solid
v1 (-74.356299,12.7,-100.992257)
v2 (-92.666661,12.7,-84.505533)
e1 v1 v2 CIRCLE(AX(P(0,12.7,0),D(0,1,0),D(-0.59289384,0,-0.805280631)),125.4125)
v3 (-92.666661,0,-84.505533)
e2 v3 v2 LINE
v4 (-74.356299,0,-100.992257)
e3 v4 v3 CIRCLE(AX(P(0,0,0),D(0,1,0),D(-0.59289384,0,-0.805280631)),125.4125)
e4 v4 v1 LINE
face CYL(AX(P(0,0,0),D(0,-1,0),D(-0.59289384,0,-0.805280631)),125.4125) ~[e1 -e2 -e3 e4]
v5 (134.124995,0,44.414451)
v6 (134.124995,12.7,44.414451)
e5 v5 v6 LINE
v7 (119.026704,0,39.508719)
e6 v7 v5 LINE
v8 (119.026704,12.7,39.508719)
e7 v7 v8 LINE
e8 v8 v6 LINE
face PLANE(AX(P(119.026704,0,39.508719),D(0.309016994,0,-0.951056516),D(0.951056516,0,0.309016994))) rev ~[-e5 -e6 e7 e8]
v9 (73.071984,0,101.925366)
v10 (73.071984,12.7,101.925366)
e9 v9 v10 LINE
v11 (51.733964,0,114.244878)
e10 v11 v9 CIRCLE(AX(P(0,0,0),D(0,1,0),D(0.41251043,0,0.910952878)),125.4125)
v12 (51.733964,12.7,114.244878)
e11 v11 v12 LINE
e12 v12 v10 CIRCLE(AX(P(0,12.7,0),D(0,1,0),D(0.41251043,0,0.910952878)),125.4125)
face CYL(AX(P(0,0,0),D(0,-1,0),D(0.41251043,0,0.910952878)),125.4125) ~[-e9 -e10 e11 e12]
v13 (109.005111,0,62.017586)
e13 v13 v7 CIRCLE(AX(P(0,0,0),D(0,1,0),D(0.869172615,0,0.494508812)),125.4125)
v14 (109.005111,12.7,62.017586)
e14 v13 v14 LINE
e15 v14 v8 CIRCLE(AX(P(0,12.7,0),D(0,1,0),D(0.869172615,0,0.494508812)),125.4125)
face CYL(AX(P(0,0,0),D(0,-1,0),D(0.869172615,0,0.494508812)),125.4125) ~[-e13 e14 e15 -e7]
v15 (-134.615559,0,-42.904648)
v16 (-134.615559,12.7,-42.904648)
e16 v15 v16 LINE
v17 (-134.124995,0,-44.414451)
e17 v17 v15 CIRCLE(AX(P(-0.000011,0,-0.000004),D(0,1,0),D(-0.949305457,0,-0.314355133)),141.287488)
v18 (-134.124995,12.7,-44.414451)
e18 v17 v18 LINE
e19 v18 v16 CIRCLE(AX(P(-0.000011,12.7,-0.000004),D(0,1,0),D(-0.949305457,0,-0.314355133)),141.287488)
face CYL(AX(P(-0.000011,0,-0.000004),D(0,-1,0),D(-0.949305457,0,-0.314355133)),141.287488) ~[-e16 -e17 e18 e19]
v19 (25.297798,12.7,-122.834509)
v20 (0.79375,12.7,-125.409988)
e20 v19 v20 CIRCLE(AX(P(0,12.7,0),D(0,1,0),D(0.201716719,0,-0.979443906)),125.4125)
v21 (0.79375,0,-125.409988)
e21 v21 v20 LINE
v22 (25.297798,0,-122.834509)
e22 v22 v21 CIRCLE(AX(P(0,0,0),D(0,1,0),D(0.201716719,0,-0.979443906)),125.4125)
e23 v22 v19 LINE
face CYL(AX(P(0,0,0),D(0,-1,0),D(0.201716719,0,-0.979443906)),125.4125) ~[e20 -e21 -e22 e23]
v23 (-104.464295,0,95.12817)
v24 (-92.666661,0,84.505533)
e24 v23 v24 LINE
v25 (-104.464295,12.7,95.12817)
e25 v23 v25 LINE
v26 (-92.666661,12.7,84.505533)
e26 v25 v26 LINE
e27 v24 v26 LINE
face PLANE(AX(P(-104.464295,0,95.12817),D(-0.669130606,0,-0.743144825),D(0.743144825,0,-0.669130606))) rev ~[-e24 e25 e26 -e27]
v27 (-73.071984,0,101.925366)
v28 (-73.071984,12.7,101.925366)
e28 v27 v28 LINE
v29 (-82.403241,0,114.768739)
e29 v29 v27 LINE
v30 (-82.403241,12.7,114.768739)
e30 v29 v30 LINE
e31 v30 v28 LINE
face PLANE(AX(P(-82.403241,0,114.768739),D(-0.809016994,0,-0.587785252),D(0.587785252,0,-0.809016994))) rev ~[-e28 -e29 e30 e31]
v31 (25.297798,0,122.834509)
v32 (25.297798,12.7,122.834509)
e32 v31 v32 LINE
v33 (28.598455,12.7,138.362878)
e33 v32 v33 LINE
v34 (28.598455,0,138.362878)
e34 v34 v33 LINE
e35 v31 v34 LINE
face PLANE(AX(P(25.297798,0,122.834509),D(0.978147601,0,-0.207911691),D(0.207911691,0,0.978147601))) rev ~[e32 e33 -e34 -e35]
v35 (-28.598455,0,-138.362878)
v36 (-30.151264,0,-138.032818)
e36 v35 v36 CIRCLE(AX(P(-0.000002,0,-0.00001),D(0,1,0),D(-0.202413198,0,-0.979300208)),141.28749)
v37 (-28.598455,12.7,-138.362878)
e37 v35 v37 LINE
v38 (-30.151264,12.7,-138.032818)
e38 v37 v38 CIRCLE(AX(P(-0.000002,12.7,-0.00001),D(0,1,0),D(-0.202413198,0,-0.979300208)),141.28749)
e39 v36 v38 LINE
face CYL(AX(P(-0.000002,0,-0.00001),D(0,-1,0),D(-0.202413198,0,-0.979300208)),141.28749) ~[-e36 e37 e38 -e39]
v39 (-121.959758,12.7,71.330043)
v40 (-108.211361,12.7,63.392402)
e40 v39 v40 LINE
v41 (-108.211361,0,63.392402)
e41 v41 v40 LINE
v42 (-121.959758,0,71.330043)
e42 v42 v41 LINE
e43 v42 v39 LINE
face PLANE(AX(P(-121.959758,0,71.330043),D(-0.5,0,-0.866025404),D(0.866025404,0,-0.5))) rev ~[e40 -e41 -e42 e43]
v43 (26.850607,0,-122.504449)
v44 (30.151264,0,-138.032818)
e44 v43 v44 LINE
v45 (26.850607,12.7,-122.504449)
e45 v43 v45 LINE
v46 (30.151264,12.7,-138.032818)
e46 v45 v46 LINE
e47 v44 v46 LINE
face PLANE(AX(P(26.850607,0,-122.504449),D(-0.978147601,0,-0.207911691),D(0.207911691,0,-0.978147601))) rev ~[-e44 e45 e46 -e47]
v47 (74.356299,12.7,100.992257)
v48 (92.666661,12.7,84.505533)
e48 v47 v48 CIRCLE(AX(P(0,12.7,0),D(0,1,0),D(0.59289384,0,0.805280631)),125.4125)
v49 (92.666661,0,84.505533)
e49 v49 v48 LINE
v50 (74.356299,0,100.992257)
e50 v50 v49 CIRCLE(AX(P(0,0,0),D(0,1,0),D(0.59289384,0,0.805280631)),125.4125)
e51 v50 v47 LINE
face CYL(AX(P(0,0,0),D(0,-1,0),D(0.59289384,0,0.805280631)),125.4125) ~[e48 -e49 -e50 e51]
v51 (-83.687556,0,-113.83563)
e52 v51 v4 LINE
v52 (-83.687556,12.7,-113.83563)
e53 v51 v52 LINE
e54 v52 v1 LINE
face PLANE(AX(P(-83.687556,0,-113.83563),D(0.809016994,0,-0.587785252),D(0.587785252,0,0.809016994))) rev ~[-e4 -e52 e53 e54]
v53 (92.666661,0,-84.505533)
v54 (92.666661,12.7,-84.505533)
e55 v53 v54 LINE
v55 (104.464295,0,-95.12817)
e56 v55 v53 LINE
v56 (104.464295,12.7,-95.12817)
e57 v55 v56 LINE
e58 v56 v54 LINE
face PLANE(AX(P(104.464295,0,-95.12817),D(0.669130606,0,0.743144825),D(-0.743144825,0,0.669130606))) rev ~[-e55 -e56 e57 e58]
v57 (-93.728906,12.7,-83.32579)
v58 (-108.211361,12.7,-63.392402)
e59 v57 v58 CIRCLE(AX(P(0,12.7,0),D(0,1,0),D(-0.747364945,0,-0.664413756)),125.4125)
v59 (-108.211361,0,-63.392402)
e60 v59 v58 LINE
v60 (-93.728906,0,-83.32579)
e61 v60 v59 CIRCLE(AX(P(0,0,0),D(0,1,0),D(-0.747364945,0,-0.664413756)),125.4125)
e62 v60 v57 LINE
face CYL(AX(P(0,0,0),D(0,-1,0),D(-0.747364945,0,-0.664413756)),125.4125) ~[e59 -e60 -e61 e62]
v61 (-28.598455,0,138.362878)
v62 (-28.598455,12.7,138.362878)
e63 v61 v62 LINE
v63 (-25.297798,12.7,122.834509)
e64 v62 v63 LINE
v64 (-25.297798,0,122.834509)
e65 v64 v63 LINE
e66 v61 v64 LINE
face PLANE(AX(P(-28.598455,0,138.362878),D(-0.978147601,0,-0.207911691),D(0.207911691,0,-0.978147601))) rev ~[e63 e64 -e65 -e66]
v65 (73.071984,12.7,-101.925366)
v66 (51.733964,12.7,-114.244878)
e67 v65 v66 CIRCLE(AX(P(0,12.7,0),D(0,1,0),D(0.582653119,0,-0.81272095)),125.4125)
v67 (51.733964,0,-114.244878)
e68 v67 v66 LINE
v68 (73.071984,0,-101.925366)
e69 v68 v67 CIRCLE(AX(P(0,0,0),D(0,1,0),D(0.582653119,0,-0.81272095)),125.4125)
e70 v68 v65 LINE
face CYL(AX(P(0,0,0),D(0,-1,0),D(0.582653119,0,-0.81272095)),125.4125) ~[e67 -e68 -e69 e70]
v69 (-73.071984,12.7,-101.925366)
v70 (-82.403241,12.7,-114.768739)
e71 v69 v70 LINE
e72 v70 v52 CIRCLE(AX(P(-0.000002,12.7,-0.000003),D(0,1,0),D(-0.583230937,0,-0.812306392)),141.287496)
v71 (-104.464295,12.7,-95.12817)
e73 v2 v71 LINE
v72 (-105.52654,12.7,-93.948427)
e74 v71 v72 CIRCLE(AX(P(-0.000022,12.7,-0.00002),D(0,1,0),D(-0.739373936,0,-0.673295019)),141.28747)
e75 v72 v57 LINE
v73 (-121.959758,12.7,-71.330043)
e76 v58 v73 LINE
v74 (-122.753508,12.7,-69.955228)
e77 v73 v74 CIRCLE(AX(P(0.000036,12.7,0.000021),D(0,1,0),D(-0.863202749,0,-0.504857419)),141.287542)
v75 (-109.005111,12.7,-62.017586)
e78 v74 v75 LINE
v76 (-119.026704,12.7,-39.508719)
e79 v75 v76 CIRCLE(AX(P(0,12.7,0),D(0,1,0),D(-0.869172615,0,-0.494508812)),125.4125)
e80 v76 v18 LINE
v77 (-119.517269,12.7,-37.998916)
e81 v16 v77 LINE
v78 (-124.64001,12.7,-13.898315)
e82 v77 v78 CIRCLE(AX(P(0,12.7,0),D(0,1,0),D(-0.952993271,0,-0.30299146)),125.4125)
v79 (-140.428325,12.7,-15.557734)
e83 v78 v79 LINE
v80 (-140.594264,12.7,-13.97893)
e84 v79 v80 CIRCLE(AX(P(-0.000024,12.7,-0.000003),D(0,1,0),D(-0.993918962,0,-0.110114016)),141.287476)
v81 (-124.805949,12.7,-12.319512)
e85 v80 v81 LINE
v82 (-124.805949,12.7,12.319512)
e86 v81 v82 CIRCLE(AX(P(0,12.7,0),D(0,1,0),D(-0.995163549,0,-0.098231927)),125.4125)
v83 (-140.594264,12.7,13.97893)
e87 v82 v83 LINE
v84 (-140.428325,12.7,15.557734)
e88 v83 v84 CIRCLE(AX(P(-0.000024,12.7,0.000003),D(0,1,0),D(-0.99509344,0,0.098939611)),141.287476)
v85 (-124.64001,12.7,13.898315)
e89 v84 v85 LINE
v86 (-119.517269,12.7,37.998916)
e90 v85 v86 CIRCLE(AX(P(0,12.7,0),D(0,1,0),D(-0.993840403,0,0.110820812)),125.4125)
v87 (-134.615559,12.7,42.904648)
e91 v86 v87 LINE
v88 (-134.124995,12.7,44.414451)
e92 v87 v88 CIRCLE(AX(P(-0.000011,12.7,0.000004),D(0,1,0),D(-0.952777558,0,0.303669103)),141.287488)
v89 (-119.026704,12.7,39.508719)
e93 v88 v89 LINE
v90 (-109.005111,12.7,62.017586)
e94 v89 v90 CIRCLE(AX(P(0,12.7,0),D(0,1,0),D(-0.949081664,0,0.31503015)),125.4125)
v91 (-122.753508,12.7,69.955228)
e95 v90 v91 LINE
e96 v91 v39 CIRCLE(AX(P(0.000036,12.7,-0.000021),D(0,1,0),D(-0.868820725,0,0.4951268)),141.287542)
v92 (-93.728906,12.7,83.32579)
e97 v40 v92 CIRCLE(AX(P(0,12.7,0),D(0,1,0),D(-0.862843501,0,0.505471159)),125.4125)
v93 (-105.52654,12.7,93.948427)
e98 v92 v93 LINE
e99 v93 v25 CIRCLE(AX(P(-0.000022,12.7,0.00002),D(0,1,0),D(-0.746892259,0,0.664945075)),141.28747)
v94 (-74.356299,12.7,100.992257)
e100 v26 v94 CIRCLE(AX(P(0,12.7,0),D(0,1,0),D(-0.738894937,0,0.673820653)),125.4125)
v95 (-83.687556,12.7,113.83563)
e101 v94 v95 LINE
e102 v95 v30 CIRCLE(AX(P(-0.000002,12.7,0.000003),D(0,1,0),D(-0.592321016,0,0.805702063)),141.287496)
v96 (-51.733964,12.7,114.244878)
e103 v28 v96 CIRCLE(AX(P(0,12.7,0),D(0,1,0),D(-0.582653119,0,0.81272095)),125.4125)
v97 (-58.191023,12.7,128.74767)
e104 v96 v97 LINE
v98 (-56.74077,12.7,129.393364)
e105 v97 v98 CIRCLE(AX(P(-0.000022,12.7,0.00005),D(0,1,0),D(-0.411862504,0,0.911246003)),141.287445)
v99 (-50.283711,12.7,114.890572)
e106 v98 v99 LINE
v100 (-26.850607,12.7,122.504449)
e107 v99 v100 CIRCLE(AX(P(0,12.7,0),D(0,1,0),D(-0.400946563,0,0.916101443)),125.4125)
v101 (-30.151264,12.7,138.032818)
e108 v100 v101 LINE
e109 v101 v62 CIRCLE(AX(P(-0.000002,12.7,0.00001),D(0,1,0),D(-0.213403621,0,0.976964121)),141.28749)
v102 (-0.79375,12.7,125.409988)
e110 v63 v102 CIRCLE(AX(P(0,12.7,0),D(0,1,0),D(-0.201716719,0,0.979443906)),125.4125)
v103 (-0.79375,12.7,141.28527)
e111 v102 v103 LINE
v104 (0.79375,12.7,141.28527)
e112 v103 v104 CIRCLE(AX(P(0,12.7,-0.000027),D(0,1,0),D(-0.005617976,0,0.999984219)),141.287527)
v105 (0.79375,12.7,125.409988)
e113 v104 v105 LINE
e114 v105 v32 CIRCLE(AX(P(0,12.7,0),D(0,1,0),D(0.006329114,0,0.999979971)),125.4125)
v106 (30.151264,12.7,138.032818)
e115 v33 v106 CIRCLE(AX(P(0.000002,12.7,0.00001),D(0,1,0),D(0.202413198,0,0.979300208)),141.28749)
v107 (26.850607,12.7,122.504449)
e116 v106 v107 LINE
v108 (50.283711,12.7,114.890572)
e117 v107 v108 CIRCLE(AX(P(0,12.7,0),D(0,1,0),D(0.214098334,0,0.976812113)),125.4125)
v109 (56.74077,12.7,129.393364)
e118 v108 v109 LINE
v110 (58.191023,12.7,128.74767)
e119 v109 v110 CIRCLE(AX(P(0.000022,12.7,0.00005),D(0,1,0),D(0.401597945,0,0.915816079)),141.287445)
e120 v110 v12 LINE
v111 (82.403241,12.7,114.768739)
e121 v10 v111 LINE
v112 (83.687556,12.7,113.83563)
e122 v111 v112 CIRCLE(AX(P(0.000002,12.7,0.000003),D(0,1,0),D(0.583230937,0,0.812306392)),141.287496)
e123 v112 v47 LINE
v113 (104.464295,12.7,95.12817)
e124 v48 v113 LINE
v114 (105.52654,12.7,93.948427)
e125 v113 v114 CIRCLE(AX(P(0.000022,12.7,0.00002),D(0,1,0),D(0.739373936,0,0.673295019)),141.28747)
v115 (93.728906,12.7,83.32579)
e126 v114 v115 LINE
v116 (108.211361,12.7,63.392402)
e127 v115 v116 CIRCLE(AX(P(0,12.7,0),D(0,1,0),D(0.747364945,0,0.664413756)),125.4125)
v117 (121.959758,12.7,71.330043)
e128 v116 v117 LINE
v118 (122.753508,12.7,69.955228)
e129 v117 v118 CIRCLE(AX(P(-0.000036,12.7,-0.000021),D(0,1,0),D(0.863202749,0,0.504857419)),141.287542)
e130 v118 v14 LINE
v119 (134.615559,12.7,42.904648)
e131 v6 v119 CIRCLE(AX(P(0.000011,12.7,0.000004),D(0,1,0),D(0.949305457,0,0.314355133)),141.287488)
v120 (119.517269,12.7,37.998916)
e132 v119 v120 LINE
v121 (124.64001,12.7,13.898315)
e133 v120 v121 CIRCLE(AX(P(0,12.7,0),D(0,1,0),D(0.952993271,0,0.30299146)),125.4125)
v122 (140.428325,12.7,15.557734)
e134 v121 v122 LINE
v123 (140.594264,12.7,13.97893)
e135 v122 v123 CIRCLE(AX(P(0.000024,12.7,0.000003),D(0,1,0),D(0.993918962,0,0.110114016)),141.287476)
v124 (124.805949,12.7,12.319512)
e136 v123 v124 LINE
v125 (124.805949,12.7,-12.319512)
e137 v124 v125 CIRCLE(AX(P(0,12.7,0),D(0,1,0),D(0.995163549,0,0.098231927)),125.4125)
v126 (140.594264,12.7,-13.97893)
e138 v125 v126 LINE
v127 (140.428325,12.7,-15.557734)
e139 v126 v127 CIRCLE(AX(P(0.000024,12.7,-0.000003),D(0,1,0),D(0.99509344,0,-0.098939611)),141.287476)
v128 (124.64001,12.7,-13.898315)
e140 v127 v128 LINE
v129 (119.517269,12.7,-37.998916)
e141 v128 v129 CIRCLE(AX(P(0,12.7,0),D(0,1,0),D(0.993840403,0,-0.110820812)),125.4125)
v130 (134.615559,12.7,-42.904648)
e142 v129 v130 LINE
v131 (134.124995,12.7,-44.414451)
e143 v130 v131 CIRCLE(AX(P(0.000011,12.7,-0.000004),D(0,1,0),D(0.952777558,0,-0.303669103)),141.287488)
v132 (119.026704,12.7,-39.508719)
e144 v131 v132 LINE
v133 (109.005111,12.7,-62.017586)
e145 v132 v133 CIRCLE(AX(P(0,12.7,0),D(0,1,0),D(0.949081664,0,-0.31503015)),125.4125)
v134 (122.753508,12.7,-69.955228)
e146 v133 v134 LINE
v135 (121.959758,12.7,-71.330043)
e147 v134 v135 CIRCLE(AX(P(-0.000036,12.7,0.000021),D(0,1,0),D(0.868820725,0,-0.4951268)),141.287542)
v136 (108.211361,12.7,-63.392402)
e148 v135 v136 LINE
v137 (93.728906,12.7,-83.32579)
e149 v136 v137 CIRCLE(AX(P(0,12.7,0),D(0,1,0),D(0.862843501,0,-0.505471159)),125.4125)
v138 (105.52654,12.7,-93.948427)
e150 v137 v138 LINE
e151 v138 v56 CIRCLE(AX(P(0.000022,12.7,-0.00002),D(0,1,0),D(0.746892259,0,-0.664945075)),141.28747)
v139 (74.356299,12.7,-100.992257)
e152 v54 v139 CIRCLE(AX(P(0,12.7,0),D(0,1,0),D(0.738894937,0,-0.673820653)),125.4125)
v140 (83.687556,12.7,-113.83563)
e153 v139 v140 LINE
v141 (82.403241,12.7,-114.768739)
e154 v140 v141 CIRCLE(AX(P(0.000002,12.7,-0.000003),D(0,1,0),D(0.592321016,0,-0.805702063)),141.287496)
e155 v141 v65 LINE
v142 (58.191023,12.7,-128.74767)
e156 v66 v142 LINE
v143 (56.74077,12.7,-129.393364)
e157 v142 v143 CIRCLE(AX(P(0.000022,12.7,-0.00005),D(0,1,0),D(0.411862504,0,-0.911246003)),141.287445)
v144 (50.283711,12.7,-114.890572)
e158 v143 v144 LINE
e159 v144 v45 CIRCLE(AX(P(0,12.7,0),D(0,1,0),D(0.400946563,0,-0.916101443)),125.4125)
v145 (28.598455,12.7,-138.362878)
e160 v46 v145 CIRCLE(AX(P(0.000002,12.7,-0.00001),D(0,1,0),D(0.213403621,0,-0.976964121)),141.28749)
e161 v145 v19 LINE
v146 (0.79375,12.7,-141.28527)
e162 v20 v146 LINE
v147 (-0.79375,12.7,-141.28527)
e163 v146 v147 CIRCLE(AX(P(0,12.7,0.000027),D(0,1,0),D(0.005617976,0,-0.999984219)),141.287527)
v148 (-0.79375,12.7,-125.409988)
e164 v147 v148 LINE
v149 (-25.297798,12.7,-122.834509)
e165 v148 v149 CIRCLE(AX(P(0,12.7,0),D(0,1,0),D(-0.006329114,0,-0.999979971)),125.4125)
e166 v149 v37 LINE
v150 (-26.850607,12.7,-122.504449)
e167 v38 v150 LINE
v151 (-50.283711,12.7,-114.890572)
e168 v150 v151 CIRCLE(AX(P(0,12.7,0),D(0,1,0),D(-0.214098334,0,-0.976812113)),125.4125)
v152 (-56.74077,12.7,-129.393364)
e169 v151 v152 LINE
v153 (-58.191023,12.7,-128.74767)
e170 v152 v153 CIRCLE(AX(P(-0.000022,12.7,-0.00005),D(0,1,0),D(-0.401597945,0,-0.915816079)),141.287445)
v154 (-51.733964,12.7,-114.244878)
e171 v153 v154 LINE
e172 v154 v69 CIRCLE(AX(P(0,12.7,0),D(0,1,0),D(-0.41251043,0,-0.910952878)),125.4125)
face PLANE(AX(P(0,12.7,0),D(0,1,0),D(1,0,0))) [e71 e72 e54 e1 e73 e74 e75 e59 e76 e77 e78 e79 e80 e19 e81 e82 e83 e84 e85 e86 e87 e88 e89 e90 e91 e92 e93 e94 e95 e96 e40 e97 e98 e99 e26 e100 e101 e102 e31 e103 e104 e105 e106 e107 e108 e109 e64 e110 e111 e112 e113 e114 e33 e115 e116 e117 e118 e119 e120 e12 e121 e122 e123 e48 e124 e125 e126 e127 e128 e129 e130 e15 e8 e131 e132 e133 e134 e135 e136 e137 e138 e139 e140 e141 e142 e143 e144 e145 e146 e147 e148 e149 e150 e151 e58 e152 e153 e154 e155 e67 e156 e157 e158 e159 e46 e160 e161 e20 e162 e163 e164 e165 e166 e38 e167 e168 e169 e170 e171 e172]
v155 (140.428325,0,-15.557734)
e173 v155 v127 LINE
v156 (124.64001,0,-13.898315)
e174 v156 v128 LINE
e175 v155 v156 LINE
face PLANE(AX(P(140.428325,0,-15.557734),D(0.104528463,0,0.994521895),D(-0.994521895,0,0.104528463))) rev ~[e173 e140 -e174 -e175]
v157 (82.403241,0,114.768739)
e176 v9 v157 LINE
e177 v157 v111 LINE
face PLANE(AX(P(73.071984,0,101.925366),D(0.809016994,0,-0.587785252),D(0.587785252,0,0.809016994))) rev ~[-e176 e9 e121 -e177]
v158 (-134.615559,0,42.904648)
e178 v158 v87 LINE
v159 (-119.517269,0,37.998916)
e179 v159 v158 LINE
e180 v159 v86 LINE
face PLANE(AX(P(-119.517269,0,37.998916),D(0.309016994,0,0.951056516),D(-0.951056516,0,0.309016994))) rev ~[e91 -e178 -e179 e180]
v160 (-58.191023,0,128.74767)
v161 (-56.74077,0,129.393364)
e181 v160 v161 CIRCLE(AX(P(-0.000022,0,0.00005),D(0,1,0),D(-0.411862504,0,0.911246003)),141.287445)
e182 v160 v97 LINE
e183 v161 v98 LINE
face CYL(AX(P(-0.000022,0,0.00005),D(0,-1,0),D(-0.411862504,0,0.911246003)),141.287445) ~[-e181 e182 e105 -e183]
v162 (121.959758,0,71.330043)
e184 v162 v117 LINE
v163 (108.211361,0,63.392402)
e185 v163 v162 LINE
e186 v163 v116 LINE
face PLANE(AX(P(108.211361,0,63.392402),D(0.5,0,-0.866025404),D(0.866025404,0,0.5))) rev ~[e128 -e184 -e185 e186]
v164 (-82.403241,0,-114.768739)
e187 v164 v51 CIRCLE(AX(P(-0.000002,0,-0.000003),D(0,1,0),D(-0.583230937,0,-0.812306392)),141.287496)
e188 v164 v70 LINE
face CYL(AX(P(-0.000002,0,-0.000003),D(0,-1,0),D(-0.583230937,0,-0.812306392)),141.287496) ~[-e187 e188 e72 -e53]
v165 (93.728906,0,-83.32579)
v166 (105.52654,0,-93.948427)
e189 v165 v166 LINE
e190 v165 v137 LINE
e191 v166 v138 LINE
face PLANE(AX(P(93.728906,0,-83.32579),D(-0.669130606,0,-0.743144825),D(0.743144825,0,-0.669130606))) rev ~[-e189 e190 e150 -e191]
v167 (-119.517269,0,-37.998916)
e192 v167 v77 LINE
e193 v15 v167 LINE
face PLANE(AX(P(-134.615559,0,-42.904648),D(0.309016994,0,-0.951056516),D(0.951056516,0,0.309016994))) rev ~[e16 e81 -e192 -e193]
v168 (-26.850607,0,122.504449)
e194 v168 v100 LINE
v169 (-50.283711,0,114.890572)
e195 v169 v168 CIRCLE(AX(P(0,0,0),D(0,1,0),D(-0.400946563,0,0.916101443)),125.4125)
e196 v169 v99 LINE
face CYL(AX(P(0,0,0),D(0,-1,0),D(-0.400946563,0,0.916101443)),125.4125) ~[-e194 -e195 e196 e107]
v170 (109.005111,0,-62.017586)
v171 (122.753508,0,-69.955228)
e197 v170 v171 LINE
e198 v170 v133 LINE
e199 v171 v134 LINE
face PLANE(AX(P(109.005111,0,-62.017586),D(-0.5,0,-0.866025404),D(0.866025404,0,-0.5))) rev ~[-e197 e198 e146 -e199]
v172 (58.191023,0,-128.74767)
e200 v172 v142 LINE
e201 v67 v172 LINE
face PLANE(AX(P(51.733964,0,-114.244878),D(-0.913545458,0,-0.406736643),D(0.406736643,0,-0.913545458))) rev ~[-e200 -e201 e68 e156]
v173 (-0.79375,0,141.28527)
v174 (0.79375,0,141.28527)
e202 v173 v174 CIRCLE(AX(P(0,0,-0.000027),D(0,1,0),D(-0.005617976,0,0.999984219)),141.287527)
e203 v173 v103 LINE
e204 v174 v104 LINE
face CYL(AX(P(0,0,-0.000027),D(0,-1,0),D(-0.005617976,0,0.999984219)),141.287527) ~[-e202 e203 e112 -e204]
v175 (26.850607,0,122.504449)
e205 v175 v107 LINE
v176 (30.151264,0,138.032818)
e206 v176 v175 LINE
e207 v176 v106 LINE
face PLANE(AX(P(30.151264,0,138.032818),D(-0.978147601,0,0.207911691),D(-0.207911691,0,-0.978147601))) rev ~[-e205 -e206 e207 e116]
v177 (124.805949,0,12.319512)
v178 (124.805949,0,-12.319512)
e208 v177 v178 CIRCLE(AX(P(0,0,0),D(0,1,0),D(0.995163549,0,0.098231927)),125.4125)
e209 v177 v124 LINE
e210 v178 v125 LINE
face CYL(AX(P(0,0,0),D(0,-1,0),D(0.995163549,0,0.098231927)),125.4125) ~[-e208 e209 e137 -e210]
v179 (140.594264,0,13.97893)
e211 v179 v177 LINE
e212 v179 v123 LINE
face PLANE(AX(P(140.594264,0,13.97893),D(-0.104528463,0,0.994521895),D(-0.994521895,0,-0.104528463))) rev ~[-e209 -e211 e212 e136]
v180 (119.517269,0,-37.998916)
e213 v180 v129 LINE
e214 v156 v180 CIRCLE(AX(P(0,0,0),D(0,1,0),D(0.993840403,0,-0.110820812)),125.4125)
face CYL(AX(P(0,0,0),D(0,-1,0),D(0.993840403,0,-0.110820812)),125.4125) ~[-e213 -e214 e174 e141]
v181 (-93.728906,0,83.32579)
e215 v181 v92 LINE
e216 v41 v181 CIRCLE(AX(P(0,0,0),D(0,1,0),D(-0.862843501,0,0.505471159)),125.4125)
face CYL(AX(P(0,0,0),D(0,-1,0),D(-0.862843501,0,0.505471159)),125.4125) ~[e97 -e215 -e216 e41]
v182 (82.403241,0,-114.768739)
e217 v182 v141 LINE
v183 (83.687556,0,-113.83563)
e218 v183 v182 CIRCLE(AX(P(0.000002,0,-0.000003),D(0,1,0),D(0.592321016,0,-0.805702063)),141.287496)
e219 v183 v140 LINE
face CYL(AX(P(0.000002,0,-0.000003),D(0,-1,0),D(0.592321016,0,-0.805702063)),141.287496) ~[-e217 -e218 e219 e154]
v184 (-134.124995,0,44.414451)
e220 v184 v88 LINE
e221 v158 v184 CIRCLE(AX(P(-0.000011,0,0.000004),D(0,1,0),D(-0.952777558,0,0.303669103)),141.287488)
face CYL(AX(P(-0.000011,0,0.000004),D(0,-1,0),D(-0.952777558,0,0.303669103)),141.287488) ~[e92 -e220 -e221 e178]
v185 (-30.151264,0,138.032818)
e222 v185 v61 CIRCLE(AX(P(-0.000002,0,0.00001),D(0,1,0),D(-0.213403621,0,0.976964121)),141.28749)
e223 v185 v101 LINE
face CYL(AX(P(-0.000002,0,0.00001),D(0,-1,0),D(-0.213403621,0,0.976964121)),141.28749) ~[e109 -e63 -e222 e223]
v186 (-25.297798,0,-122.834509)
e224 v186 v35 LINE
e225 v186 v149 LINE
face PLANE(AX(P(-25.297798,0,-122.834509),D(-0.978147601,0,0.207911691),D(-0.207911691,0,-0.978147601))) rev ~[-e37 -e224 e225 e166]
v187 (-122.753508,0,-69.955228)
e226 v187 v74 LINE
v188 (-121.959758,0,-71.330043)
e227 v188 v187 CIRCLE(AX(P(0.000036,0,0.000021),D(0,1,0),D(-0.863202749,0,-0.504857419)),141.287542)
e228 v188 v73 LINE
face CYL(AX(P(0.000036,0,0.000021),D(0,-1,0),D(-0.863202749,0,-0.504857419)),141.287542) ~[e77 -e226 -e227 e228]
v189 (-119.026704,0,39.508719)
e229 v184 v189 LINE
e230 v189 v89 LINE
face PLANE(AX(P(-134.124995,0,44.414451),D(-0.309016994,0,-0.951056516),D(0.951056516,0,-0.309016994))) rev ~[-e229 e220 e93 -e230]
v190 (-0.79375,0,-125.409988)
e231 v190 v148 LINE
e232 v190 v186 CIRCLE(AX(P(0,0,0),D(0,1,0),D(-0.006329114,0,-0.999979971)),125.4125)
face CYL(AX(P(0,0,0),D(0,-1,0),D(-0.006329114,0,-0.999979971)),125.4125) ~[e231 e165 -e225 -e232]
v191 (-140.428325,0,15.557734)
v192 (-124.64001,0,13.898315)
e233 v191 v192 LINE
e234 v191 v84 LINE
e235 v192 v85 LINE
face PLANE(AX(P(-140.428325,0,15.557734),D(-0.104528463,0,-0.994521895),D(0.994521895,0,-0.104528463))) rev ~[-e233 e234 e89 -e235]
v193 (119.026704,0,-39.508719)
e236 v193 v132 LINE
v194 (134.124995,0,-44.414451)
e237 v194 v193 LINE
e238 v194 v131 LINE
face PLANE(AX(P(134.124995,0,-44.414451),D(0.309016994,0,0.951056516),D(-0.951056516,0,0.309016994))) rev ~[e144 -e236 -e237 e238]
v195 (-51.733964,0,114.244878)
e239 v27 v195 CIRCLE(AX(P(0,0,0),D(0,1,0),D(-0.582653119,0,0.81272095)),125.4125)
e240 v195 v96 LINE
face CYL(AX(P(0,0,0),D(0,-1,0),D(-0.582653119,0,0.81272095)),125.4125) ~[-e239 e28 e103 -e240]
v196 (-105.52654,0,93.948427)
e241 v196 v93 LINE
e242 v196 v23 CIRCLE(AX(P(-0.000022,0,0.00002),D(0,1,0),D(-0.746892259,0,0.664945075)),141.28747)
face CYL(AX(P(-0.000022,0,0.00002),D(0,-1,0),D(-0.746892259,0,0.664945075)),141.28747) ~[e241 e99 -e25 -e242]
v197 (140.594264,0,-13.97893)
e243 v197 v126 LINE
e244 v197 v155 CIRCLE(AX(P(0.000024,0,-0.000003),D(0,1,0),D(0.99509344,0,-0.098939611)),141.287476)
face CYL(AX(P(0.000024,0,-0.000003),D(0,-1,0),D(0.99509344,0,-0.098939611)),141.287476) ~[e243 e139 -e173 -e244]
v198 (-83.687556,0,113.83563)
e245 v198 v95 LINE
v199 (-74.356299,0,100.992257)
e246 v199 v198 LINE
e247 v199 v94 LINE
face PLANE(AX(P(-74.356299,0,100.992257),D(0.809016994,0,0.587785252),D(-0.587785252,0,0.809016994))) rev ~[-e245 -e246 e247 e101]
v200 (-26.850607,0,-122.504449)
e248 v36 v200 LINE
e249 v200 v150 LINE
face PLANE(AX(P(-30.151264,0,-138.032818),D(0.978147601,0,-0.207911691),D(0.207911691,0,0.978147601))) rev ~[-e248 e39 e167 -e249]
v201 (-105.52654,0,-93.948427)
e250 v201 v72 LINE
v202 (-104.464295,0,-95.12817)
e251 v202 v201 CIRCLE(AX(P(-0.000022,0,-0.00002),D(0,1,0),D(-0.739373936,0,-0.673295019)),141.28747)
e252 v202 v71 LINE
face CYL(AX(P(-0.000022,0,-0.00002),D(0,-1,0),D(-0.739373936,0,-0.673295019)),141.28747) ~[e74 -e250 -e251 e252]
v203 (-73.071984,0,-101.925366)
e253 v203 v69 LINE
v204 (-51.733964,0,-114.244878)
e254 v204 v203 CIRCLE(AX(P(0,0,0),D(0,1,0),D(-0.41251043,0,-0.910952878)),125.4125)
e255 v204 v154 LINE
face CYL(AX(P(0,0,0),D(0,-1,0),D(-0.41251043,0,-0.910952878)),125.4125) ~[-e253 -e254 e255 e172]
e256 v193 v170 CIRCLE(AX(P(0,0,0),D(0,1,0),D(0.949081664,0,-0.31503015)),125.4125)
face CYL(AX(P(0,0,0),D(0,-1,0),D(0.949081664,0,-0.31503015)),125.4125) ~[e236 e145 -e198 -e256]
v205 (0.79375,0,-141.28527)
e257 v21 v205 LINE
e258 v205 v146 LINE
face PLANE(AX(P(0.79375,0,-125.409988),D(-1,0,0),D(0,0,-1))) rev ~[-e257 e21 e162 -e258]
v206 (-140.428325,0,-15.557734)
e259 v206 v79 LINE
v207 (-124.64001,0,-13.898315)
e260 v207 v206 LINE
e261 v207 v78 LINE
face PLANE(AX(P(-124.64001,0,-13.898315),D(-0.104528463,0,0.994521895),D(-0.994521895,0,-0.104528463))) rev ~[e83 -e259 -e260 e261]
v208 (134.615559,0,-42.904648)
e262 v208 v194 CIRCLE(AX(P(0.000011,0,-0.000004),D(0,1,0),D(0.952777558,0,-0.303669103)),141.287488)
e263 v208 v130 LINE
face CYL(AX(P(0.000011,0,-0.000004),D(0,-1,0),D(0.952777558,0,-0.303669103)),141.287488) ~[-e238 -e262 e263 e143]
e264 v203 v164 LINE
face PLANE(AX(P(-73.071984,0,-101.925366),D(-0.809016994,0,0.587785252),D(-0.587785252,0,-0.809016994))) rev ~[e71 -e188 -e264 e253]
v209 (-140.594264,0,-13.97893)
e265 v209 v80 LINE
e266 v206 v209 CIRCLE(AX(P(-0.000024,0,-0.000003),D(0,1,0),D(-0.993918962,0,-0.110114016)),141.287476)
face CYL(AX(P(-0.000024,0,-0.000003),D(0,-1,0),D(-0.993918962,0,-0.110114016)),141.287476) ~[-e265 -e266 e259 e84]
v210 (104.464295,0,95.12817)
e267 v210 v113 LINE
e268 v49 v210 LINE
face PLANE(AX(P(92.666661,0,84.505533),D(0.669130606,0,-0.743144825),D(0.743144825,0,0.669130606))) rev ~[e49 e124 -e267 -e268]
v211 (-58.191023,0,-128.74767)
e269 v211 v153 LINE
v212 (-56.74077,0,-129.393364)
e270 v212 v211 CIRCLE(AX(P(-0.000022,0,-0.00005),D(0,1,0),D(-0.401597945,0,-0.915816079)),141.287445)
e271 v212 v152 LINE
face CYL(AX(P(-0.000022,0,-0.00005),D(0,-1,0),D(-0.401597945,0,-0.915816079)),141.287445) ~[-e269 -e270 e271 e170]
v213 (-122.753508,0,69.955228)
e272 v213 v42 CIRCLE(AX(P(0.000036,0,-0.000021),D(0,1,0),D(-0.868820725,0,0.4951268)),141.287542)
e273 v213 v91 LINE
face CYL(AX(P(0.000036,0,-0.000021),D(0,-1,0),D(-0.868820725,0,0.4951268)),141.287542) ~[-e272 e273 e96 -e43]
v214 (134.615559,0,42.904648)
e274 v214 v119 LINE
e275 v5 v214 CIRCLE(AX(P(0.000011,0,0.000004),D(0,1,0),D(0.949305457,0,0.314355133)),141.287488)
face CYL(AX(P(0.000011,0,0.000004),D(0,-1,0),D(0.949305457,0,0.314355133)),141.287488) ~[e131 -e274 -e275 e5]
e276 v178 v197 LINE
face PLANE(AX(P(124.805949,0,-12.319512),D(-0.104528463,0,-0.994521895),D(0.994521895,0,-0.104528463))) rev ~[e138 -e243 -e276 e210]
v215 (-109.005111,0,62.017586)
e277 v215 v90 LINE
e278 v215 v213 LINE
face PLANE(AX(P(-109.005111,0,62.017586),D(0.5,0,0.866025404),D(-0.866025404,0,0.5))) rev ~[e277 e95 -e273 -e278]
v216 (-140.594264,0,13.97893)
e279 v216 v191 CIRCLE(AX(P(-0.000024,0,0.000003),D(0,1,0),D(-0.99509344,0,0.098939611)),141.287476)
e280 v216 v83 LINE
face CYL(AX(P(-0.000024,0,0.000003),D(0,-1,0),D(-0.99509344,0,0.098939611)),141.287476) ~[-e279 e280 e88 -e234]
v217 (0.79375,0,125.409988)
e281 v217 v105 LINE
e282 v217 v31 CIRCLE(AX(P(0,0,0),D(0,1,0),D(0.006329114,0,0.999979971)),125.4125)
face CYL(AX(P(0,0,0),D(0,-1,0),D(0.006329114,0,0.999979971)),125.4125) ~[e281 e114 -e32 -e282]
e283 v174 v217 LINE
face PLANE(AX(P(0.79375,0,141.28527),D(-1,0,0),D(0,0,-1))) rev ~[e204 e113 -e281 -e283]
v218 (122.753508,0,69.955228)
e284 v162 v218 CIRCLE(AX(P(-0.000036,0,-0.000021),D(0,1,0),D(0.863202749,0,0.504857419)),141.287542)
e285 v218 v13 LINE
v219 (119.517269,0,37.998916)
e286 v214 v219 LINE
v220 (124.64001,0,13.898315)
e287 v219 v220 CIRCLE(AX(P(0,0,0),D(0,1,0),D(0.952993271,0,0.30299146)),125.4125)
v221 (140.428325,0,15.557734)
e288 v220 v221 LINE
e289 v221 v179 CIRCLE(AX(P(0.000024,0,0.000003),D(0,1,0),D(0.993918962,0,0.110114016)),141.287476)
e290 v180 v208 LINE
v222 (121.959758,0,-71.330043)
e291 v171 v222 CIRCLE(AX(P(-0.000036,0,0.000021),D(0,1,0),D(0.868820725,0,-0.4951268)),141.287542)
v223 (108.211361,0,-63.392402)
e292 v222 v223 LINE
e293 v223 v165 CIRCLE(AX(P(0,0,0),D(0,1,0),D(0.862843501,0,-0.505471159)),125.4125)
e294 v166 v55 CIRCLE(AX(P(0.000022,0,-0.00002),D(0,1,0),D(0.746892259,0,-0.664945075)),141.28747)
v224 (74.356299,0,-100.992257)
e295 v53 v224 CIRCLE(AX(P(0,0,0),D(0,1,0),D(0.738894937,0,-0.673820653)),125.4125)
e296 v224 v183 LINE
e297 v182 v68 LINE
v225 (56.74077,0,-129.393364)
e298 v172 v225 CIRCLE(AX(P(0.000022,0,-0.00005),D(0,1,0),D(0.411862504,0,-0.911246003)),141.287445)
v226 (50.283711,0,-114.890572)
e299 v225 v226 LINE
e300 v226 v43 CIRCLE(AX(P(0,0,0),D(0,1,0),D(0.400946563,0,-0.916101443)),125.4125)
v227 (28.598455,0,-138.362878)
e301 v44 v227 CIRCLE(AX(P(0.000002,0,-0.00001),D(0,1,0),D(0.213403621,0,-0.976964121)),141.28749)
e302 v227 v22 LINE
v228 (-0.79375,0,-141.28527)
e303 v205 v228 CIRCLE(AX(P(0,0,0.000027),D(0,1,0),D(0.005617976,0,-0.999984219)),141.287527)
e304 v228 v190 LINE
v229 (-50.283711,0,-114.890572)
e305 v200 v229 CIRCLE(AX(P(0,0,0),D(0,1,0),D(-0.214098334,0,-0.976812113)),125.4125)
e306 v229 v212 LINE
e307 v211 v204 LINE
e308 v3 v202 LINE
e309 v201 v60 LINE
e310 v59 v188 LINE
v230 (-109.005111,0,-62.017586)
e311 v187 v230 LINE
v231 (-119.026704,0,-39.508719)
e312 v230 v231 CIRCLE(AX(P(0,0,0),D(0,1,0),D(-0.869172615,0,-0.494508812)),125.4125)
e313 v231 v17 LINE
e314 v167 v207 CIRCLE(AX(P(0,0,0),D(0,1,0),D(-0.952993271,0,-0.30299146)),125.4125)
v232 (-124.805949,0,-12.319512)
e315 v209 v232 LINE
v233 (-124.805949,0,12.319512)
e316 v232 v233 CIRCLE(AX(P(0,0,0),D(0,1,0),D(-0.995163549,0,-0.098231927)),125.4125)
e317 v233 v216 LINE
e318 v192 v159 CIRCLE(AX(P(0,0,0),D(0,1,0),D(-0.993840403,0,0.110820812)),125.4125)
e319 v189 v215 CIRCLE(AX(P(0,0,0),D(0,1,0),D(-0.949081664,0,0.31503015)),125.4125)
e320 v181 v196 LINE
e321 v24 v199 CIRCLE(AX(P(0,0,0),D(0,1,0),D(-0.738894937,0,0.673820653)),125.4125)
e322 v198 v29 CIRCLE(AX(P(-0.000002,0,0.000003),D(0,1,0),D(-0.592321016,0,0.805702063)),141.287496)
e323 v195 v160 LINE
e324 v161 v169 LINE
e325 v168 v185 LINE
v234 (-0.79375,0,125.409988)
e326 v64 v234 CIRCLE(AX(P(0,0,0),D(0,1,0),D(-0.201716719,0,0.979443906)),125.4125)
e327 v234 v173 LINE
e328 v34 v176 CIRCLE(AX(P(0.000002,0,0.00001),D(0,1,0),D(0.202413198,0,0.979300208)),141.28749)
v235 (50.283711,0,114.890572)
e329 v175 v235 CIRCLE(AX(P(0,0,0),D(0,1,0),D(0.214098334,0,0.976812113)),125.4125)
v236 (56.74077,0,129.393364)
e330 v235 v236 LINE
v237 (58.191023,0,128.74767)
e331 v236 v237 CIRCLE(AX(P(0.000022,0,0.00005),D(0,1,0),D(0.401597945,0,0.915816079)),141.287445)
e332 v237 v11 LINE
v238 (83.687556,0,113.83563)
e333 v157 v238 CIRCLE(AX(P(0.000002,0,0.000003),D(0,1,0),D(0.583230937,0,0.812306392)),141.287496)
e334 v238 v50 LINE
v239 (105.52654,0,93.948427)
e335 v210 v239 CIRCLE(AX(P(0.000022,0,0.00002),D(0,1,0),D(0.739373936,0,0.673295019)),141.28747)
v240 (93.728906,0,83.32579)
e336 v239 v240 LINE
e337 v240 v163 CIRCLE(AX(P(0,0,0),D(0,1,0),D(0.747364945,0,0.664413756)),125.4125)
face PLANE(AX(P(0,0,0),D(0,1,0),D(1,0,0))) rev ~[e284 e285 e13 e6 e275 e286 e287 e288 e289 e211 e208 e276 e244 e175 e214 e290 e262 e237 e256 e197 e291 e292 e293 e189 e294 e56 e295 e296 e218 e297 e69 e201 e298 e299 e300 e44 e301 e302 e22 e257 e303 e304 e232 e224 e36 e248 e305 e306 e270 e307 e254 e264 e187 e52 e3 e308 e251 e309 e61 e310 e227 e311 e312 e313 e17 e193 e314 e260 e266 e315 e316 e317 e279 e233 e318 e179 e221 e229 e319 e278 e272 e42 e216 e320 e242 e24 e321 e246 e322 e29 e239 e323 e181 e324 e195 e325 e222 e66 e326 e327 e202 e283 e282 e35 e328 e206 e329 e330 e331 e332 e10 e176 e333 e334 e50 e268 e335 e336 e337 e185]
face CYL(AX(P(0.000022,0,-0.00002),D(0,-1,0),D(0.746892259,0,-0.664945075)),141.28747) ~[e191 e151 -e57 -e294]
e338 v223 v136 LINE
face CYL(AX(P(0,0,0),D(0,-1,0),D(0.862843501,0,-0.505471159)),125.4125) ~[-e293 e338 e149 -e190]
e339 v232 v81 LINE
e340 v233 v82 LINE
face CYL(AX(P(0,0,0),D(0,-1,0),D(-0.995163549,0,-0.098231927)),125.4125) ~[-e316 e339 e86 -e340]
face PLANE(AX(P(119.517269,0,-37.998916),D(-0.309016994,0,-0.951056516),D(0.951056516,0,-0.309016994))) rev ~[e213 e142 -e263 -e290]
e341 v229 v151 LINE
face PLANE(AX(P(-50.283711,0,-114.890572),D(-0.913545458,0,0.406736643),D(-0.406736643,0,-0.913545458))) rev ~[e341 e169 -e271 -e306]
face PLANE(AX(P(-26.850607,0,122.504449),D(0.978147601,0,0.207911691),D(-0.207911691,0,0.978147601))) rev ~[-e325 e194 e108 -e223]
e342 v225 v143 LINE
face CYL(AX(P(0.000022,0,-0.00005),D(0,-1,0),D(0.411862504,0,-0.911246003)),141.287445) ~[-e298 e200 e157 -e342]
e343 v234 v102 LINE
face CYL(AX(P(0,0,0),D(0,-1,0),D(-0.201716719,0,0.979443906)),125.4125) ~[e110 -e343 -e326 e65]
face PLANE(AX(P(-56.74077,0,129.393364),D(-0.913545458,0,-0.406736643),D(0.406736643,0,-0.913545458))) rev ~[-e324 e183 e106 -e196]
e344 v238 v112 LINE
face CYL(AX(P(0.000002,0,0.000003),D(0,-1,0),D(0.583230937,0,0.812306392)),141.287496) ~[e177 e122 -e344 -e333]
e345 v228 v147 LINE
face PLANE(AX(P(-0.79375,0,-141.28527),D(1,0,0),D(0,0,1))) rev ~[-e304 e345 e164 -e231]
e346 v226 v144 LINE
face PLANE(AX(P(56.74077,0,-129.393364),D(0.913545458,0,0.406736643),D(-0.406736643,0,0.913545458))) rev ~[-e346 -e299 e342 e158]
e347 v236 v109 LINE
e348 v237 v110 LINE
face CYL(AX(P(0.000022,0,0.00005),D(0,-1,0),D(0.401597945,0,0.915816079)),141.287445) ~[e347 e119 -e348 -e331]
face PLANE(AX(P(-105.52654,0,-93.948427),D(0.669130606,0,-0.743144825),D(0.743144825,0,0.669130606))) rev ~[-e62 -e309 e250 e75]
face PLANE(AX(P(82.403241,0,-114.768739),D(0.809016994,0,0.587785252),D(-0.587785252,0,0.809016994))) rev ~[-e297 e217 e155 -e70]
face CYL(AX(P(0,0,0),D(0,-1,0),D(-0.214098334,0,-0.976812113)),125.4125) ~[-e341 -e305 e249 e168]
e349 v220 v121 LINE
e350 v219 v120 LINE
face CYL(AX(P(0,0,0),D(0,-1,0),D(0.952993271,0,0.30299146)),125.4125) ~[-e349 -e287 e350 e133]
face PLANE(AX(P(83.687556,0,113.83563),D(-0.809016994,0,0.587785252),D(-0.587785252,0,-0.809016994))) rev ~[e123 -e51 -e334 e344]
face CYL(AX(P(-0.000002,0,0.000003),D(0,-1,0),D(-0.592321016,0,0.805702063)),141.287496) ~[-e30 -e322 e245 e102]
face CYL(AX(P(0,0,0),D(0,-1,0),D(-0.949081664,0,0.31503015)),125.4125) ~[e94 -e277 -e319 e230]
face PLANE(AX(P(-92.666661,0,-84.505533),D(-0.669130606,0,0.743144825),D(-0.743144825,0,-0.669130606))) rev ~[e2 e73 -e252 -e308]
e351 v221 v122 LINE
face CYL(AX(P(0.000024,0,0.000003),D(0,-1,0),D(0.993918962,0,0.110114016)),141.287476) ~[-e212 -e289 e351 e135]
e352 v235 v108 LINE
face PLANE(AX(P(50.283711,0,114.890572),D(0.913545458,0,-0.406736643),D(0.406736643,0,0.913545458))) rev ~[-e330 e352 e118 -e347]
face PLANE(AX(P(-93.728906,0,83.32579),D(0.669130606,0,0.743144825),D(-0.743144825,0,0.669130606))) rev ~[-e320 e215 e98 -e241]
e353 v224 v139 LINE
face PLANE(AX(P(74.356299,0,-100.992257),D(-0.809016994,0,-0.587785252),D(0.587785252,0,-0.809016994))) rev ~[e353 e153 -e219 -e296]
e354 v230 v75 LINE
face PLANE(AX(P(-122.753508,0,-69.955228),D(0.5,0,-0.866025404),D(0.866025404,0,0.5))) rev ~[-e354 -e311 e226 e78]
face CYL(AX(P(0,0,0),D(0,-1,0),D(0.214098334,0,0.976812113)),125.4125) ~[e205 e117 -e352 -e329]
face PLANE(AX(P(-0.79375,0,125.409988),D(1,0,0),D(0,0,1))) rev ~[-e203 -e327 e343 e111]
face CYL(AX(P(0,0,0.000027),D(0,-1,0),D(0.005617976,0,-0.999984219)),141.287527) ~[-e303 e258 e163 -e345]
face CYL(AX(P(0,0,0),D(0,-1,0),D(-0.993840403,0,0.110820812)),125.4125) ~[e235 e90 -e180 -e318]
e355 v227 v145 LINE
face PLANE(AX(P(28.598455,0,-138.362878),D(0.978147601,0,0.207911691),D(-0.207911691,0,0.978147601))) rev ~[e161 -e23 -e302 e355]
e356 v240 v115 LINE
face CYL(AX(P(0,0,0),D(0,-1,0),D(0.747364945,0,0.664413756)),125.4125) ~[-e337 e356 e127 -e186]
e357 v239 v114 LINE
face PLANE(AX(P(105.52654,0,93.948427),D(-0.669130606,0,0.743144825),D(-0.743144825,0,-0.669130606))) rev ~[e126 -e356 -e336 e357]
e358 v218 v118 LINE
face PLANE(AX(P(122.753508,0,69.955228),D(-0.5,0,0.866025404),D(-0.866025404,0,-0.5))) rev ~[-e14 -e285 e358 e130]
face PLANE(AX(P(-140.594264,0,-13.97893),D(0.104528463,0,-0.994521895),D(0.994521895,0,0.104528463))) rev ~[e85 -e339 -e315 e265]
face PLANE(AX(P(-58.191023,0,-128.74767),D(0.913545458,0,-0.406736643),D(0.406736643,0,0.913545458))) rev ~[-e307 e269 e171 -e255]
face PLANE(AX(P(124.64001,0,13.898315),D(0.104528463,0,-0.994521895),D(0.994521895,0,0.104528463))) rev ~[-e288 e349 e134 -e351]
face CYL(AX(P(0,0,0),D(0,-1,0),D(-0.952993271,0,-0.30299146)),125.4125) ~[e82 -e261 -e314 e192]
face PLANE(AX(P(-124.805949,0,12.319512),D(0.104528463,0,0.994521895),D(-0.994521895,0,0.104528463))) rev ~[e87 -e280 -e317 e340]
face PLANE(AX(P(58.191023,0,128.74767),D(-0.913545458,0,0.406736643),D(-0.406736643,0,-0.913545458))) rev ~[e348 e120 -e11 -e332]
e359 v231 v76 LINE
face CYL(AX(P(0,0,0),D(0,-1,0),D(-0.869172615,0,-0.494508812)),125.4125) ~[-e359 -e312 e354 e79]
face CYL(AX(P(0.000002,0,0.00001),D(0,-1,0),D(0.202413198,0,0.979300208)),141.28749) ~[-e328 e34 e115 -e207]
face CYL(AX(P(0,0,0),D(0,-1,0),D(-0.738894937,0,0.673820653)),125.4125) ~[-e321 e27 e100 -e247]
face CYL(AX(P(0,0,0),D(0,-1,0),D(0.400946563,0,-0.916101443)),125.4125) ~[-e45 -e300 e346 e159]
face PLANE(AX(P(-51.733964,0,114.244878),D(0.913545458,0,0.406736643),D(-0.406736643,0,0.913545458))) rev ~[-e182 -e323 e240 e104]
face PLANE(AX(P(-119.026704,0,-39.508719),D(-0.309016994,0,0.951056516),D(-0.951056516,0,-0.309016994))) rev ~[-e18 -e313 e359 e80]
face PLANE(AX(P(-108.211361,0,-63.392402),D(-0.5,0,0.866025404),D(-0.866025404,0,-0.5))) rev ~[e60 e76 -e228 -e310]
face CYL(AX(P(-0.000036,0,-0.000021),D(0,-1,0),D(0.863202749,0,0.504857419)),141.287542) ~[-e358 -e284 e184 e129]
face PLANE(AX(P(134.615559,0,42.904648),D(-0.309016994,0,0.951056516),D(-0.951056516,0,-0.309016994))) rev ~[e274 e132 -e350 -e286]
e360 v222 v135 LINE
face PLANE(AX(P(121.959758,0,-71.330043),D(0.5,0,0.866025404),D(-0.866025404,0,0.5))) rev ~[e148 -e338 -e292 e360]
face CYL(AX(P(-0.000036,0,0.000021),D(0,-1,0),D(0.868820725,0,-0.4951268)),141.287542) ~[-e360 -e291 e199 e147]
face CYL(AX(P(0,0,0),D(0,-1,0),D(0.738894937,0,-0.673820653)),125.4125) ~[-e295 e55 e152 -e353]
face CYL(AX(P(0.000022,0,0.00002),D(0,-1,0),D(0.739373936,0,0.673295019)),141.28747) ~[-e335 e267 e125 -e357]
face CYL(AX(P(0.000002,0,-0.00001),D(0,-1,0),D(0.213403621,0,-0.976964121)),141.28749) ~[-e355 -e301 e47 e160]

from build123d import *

# Parameters (mm, degrees)
BOSS_EXTRUDE1_DEPTH = 12.7


with BuildPart() as part:
    # Sketch3 → Boss-Extrude1 (new body)
    with BuildSketch(Plane(origin=(0, 0, 0), x_dir=(1, 0, 0), z_dir=(0, 1, 0))):
        with BuildLine():
            Line((-0.79375, 141.285270348), (-0.79375, 125.409988108))
            ThreePointArc((-0.79375, 125.409988108), (-13.1091759, 124.725477203), (-25.297798015, 122.83450888))
            Line((-25.297798015, 122.83450888), (-28.598454788, 138.362878114))
            ThreePointArc((-28.598454788, 138.362878114), (-29.375323016, 138.200029139), (-30.151264104, 138.032818305))
            Line((-30.151264104, 138.032818305), (-26.850607331, 122.504449071))
            ThreePointArc((-26.850607331, 122.504449071), (-38.754593807, 119.27437535), (-50.283710864, 114.890572189))
            Line((-50.283710864, 114.890572189), (-56.74076987, 129.393364168))
            ThreePointArc((-56.74076987, 129.393364168), (-57.466803459, 129.072553847), (-58.191023284, 128.747669747))
            Line((-58.191023284, 128.747669747), (-51.733964278, 114.244877768))
            ThreePointArc((-51.733964278, 114.244877768), (-62.70625, 108.610410952), (-73.071984261, 101.925366188))
            Line((-73.071984261, 101.925366188), (-82.403241037, 114.76873931))
            ThreePointArc((-82.403241037, 114.76873931), (-83.046708833, 114.303988593), (-83.687555516, 113.835630222))
            Line((-83.687555516, 113.835630222), (-74.356298739, 100.9922571))
            ThreePointArc((-74.356298739, 100.9922571), (-83.91734217, 93.199650425), (-92.666661307, 84.505532591))
            Line((-92.666661307, 84.505532591), (-104.464295156, 95.128169822))
            ThreePointArc((-104.464295156, 95.128169822), (-104.99707453, 94.539790546), (-105.526539994, 93.948427412))
            Line((-105.526539994, 93.948427412), (-93.728906144, 83.325790181))
            ThreePointArc((-93.728906144, 83.325790181), (-101.460843807, 73.715617953), (-108.21136059, 63.392401718))
            Line((-108.21136059, 63.392401718), (-121.959758302, 71.330042838))
            ThreePointArc((-121.959758302, 71.330042838), (-122.358564237, 70.64375), (-122.753508302, 69.95522751))
            Line((-122.753508302, 69.95522751), (-109.00511059, 62.01758639))
            ThreePointArc((-109.00511059, 62.01758639), (-114.570019707, 51.00985925), (-119.026704159, 39.508718699))
            Line((-119.026704159, 39.508718699), (-134.124994781, 44.414450702))
            ThreePointArc((-134.124994781, 44.414450702), (-134.372397546, 43.660238593), (-134.61555926, 42.904648482))
            Line((-134.61555926, 42.904648482), (-119.517268638, 37.99891648))
            ThreePointArc((-119.517268638, 37.99891648), (-122.671935977, 26.074724925), (-124.640009603, 13.89831509))
            Line((-124.640009603, 13.89831509), (-140.428325386, 15.557733946))
            ThreePointArc((-140.428325386, 15.557733946), (-140.513512292, 14.768565254), (-140.594264321, 13.978930437))
            Line((-140.594264321, 13.978930437), (-124.805948539, 12.319511581))
            ThreePointArc((-124.805948539, 12.319511581), (-125.4125, 0), (-124.805948539, -12.319511581))
            Line((-124.805948539, -12.319511581), (-140.594264321, -13.978930437))
            ThreePointArc((-140.594264321, -13.978930437), (-140.513512292, -14.768565254), (-140.428325386, -15.557733946))
            Line((-140.428325386, -15.557733946), (-124.640009603, -13.89831509))
            ThreePointArc((-124.640009603, -13.89831509), (-122.671935977, -26.074724925), (-119.517268638, -37.99891648))
            Line((-119.517268638, -37.99891648), (-134.61555926, -42.904648482))
            ThreePointArc((-134.61555926, -42.904648482), (-134.372397546, -43.660238593), (-134.124994781, -44.414450702))
            Line((-134.124994781, -44.414450702), (-119.026704159, -39.508718699))
            ThreePointArc((-119.026704159, -39.508718699), (-114.570019707, -51.00985925), (-109.00511059, -62.01758639))
            Line((-109.00511059, -62.01758639), (-122.753508302, -69.95522751))
            ThreePointArc((-122.753508302, -69.95522751), (-122.358564237, -70.64375), (-121.959758302, -71.330042838))
            Line((-121.959758302, -71.330042838), (-108.21136059, -63.392401718))
            ThreePointArc((-108.21136059, -63.392401718), (-101.460843807, -73.715617953), (-93.728906144, -83.325790181))
            Line((-93.728906144, -83.325790181), (-105.526539994, -93.948427412))
            ThreePointArc((-105.526539994, -93.948427412), (-104.99707453, -94.539790546), (-104.464295156, -95.128169822))
            Line((-104.464295156, -95.128169822), (-92.666661307, -84.505532591))
            ThreePointArc((-92.666661307, -84.505532591), (-83.91734217, -93.199650425), (-74.356298739, -100.9922571))
            Line((-74.356298739, -100.9922571), (-83.687555516, -113.835630222))
            ThreePointArc((-83.687555516, -113.835630222), (-83.046708833, -114.303988593), (-82.403241037, -114.76873931))
            Line((-82.403241037, -114.76873931), (-73.071984261, -101.925366188))
            ThreePointArc((-73.071984261, -101.925366188), (-62.70625, -108.610410952), (-51.733964278, -114.244877768))
            Line((-51.733964278, -114.244877768), (-58.191023284, -128.747669747))
            ThreePointArc((-58.191023284, -128.747669747), (-57.466803459, -129.072553847), (-56.74076987, -129.393364168))
            Line((-56.74076987, -129.393364168), (-50.283710864, -114.890572189))
            ThreePointArc((-50.283710864, -114.890572189), (-38.754593807, -119.27437535), (-26.850607331, -122.504449071))
            Line((-26.850607331, -122.504449071), (-30.151264104, -138.032818305))
            ThreePointArc((-30.151264104, -138.032818305), (-29.375323016, -138.200029139), (-28.598454788, -138.362878114))
            Line((-28.598454788, -138.362878114), (-25.297798015, -122.83450888))
            ThreePointArc((-25.297798015, -122.83450888), (-13.1091759, -124.725477203), (-0.79375, -125.409988108))
            Line((-0.79375, -125.409988108), (-0.79375, -141.285270348))
            ThreePointArc((-0.79375, -141.285270348), (0, -141.2875), (0.79375, -141.285270348))
            Line((0.79375, -141.285270348), (0.79375, -125.409988108))
            ThreePointArc((0.79375, -125.409988108), (13.1091759, -124.725477203), (25.297798015, -122.83450888))
            Line((25.297798015, -122.83450888), (28.598454788, -138.362878114))
            ThreePointArc((28.598454788, -138.362878114), (29.375323016, -138.200029139), (30.151264104, -138.032818305))
            Line((30.151264104, -138.032818305), (26.850607331, -122.504449071))
            ThreePointArc((26.850607331, -122.504449071), (38.754593807, -119.27437535), (50.283710864, -114.890572189))
            Line((50.283710864, -114.890572189), (56.74076987, -129.393364168))
            ThreePointArc((56.74076987, -129.393364168), (57.466803459, -129.072553847), (58.191023284, -128.747669747))
            Line((58.191023284, -128.747669747), (51.733964278, -114.244877768))
            ThreePointArc((51.733964278, -114.244877768), (62.70625, -108.610410952), (73.071984261, -101.925366188))
            Line((73.071984261, -101.925366188), (82.403241037, -114.76873931))
            ThreePointArc((82.403241037, -114.76873931), (83.046708833, -114.303988593), (83.687555516, -113.835630222))
            Line((83.687555516, -113.835630222), (74.356298739, -100.9922571))
            ThreePointArc((74.356298739, -100.9922571), (83.91734217, -93.199650425), (92.666661307, -84.505532591))
            Line((92.666661307, -84.505532591), (104.464295156, -95.128169822))
            ThreePointArc((104.464295156, -95.128169822), (104.99707453, -94.539790546), (105.526539994, -93.948427412))
            Line((105.526539994, -93.948427412), (93.728906144, -83.325790181))
            ThreePointArc((93.728906144, -83.325790181), (101.460843807, -73.715617953), (108.21136059, -63.392401718))
            Line((108.21136059, -63.392401718), (121.959758302, -71.330042838))
            ThreePointArc((121.959758302, -71.330042838), (122.358564237, -70.64375), (122.753508302, -69.95522751))
            Line((122.753508302, -69.95522751), (109.00511059, -62.01758639))
            ThreePointArc((109.00511059, -62.01758639), (114.570019707, -51.00985925), (119.026704159, -39.508718699))
            Line((119.026704159, -39.508718699), (134.124994781, -44.414450702))
            ThreePointArc((134.124994781, -44.414450702), (134.372397546, -43.660238593), (134.61555926, -42.904648482))
            Line((134.61555926, -42.904648482), (119.517268638, -37.99891648))
            ThreePointArc((119.517268638, -37.99891648), (122.671935977, -26.074724925), (124.640009603, -13.89831509))
            Line((124.640009603, -13.89831509), (140.428325386, -15.557733946))
            ThreePointArc((140.428325386, -15.557733946), (140.513512292, -14.768565254), (140.594264321, -13.978930437))
            Line((140.594264321, -13.978930437), (124.805948539, -12.319511581))
            ThreePointArc((124.805948539, -12.319511581), (125.4125, 0), (124.805948539, 12.319511581))
            Line((124.805948539, 12.319511581), (140.594264321, 13.978930437))
            ThreePointArc((140.594264321, 13.978930437), (140.513512292, 14.768565254), (140.428325386, 15.557733946))
            Line((140.428325386, 15.557733946), (124.640009603, 13.89831509))
            ThreePointArc((124.640009603, 13.89831509), (122.671935977, 26.074724925), (119.517268638, 37.99891648))
            Line((119.517268638, 37.99891648), (134.61555926, 42.904648482))
            ThreePointArc((134.61555926, 42.904648482), (134.372397546, 43.660238593), (134.124994781, 44.414450702))
            Line((134.124994781, 44.414450702), (119.026704159, 39.508718699))
            ThreePointArc((119.026704159, 39.508718699), (114.570019707, 51.00985925), (109.00511059, 62.01758639))
            Line((109.00511059, 62.01758639), (122.753508302, 69.95522751))
            ThreePointArc((122.753508302, 69.95522751), (122.358564237, 70.64375), (121.959758302, 71.330042838))
            Line((121.959758302, 71.330042838), (108.21136059, 63.392401718))
            ThreePointArc((108.21136059, 63.392401718), (101.460843807, 73.715617953), (93.728906144, 83.325790181))
            Line((93.728906144, 83.325790181), (105.526539994, 93.948427412))
            ThreePointArc((105.526539994, 93.948427412), (104.99707453, 94.539790546), (104.464295156, 95.128169822))
            Line((104.464295156, 95.128169822), (92.666661307, 84.505532591))
            ThreePointArc((92.666661307, 84.505532591), (83.91734217, 93.199650425), (74.356298739, 100.9922571))
            Line((74.356298739, 100.9922571), (83.687555516, 113.835630222))
            ThreePointArc((83.687555516, 113.835630222), (83.046708833, 114.303988593), (82.403241037, 114.76873931))
            Line((82.403241037, 114.76873931), (73.071984261, 101.925366188))
            ThreePointArc((73.071984261, 101.925366188), (62.70625, 108.610410952), (51.733964278, 114.244877768))
            Line((51.733964278, 114.244877768), (58.191023284, 128.747669747))
            ThreePointArc((58.191023284, 128.747669747), (57.466803459, 129.072553847), (56.74076987, 129.393364168))
            Line((56.74076987, 129.393364168), (50.283710864, 114.890572189))
            ThreePointArc((50.283710864, 114.890572189), (38.754593807, 119.27437535), (26.850607331, 122.504449071))
            Line((26.850607331, 122.504449071), (30.151264104, 138.032818305))
            ThreePointArc((30.151264104, 138.032818305), (29.375323016, 138.200029139), (28.598454788, 138.362878114))
            Line((28.598454788, 138.362878114), (25.297798015, 122.83450888))
            ThreePointArc((25.297798015, 122.83450888), (13.1091759, 124.725477203), (0.79375, 125.409988108))
            Line((0.79375, 125.409988108), (0.79375, 141.285270348))
            ThreePointArc((0.79375, 141.285270348), (0, 141.2875), (-0.79375, 141.285270348))
        make_face()
    extrude(amount=BOSS_EXTRUDE1_DEPTH)


solid = part.part
